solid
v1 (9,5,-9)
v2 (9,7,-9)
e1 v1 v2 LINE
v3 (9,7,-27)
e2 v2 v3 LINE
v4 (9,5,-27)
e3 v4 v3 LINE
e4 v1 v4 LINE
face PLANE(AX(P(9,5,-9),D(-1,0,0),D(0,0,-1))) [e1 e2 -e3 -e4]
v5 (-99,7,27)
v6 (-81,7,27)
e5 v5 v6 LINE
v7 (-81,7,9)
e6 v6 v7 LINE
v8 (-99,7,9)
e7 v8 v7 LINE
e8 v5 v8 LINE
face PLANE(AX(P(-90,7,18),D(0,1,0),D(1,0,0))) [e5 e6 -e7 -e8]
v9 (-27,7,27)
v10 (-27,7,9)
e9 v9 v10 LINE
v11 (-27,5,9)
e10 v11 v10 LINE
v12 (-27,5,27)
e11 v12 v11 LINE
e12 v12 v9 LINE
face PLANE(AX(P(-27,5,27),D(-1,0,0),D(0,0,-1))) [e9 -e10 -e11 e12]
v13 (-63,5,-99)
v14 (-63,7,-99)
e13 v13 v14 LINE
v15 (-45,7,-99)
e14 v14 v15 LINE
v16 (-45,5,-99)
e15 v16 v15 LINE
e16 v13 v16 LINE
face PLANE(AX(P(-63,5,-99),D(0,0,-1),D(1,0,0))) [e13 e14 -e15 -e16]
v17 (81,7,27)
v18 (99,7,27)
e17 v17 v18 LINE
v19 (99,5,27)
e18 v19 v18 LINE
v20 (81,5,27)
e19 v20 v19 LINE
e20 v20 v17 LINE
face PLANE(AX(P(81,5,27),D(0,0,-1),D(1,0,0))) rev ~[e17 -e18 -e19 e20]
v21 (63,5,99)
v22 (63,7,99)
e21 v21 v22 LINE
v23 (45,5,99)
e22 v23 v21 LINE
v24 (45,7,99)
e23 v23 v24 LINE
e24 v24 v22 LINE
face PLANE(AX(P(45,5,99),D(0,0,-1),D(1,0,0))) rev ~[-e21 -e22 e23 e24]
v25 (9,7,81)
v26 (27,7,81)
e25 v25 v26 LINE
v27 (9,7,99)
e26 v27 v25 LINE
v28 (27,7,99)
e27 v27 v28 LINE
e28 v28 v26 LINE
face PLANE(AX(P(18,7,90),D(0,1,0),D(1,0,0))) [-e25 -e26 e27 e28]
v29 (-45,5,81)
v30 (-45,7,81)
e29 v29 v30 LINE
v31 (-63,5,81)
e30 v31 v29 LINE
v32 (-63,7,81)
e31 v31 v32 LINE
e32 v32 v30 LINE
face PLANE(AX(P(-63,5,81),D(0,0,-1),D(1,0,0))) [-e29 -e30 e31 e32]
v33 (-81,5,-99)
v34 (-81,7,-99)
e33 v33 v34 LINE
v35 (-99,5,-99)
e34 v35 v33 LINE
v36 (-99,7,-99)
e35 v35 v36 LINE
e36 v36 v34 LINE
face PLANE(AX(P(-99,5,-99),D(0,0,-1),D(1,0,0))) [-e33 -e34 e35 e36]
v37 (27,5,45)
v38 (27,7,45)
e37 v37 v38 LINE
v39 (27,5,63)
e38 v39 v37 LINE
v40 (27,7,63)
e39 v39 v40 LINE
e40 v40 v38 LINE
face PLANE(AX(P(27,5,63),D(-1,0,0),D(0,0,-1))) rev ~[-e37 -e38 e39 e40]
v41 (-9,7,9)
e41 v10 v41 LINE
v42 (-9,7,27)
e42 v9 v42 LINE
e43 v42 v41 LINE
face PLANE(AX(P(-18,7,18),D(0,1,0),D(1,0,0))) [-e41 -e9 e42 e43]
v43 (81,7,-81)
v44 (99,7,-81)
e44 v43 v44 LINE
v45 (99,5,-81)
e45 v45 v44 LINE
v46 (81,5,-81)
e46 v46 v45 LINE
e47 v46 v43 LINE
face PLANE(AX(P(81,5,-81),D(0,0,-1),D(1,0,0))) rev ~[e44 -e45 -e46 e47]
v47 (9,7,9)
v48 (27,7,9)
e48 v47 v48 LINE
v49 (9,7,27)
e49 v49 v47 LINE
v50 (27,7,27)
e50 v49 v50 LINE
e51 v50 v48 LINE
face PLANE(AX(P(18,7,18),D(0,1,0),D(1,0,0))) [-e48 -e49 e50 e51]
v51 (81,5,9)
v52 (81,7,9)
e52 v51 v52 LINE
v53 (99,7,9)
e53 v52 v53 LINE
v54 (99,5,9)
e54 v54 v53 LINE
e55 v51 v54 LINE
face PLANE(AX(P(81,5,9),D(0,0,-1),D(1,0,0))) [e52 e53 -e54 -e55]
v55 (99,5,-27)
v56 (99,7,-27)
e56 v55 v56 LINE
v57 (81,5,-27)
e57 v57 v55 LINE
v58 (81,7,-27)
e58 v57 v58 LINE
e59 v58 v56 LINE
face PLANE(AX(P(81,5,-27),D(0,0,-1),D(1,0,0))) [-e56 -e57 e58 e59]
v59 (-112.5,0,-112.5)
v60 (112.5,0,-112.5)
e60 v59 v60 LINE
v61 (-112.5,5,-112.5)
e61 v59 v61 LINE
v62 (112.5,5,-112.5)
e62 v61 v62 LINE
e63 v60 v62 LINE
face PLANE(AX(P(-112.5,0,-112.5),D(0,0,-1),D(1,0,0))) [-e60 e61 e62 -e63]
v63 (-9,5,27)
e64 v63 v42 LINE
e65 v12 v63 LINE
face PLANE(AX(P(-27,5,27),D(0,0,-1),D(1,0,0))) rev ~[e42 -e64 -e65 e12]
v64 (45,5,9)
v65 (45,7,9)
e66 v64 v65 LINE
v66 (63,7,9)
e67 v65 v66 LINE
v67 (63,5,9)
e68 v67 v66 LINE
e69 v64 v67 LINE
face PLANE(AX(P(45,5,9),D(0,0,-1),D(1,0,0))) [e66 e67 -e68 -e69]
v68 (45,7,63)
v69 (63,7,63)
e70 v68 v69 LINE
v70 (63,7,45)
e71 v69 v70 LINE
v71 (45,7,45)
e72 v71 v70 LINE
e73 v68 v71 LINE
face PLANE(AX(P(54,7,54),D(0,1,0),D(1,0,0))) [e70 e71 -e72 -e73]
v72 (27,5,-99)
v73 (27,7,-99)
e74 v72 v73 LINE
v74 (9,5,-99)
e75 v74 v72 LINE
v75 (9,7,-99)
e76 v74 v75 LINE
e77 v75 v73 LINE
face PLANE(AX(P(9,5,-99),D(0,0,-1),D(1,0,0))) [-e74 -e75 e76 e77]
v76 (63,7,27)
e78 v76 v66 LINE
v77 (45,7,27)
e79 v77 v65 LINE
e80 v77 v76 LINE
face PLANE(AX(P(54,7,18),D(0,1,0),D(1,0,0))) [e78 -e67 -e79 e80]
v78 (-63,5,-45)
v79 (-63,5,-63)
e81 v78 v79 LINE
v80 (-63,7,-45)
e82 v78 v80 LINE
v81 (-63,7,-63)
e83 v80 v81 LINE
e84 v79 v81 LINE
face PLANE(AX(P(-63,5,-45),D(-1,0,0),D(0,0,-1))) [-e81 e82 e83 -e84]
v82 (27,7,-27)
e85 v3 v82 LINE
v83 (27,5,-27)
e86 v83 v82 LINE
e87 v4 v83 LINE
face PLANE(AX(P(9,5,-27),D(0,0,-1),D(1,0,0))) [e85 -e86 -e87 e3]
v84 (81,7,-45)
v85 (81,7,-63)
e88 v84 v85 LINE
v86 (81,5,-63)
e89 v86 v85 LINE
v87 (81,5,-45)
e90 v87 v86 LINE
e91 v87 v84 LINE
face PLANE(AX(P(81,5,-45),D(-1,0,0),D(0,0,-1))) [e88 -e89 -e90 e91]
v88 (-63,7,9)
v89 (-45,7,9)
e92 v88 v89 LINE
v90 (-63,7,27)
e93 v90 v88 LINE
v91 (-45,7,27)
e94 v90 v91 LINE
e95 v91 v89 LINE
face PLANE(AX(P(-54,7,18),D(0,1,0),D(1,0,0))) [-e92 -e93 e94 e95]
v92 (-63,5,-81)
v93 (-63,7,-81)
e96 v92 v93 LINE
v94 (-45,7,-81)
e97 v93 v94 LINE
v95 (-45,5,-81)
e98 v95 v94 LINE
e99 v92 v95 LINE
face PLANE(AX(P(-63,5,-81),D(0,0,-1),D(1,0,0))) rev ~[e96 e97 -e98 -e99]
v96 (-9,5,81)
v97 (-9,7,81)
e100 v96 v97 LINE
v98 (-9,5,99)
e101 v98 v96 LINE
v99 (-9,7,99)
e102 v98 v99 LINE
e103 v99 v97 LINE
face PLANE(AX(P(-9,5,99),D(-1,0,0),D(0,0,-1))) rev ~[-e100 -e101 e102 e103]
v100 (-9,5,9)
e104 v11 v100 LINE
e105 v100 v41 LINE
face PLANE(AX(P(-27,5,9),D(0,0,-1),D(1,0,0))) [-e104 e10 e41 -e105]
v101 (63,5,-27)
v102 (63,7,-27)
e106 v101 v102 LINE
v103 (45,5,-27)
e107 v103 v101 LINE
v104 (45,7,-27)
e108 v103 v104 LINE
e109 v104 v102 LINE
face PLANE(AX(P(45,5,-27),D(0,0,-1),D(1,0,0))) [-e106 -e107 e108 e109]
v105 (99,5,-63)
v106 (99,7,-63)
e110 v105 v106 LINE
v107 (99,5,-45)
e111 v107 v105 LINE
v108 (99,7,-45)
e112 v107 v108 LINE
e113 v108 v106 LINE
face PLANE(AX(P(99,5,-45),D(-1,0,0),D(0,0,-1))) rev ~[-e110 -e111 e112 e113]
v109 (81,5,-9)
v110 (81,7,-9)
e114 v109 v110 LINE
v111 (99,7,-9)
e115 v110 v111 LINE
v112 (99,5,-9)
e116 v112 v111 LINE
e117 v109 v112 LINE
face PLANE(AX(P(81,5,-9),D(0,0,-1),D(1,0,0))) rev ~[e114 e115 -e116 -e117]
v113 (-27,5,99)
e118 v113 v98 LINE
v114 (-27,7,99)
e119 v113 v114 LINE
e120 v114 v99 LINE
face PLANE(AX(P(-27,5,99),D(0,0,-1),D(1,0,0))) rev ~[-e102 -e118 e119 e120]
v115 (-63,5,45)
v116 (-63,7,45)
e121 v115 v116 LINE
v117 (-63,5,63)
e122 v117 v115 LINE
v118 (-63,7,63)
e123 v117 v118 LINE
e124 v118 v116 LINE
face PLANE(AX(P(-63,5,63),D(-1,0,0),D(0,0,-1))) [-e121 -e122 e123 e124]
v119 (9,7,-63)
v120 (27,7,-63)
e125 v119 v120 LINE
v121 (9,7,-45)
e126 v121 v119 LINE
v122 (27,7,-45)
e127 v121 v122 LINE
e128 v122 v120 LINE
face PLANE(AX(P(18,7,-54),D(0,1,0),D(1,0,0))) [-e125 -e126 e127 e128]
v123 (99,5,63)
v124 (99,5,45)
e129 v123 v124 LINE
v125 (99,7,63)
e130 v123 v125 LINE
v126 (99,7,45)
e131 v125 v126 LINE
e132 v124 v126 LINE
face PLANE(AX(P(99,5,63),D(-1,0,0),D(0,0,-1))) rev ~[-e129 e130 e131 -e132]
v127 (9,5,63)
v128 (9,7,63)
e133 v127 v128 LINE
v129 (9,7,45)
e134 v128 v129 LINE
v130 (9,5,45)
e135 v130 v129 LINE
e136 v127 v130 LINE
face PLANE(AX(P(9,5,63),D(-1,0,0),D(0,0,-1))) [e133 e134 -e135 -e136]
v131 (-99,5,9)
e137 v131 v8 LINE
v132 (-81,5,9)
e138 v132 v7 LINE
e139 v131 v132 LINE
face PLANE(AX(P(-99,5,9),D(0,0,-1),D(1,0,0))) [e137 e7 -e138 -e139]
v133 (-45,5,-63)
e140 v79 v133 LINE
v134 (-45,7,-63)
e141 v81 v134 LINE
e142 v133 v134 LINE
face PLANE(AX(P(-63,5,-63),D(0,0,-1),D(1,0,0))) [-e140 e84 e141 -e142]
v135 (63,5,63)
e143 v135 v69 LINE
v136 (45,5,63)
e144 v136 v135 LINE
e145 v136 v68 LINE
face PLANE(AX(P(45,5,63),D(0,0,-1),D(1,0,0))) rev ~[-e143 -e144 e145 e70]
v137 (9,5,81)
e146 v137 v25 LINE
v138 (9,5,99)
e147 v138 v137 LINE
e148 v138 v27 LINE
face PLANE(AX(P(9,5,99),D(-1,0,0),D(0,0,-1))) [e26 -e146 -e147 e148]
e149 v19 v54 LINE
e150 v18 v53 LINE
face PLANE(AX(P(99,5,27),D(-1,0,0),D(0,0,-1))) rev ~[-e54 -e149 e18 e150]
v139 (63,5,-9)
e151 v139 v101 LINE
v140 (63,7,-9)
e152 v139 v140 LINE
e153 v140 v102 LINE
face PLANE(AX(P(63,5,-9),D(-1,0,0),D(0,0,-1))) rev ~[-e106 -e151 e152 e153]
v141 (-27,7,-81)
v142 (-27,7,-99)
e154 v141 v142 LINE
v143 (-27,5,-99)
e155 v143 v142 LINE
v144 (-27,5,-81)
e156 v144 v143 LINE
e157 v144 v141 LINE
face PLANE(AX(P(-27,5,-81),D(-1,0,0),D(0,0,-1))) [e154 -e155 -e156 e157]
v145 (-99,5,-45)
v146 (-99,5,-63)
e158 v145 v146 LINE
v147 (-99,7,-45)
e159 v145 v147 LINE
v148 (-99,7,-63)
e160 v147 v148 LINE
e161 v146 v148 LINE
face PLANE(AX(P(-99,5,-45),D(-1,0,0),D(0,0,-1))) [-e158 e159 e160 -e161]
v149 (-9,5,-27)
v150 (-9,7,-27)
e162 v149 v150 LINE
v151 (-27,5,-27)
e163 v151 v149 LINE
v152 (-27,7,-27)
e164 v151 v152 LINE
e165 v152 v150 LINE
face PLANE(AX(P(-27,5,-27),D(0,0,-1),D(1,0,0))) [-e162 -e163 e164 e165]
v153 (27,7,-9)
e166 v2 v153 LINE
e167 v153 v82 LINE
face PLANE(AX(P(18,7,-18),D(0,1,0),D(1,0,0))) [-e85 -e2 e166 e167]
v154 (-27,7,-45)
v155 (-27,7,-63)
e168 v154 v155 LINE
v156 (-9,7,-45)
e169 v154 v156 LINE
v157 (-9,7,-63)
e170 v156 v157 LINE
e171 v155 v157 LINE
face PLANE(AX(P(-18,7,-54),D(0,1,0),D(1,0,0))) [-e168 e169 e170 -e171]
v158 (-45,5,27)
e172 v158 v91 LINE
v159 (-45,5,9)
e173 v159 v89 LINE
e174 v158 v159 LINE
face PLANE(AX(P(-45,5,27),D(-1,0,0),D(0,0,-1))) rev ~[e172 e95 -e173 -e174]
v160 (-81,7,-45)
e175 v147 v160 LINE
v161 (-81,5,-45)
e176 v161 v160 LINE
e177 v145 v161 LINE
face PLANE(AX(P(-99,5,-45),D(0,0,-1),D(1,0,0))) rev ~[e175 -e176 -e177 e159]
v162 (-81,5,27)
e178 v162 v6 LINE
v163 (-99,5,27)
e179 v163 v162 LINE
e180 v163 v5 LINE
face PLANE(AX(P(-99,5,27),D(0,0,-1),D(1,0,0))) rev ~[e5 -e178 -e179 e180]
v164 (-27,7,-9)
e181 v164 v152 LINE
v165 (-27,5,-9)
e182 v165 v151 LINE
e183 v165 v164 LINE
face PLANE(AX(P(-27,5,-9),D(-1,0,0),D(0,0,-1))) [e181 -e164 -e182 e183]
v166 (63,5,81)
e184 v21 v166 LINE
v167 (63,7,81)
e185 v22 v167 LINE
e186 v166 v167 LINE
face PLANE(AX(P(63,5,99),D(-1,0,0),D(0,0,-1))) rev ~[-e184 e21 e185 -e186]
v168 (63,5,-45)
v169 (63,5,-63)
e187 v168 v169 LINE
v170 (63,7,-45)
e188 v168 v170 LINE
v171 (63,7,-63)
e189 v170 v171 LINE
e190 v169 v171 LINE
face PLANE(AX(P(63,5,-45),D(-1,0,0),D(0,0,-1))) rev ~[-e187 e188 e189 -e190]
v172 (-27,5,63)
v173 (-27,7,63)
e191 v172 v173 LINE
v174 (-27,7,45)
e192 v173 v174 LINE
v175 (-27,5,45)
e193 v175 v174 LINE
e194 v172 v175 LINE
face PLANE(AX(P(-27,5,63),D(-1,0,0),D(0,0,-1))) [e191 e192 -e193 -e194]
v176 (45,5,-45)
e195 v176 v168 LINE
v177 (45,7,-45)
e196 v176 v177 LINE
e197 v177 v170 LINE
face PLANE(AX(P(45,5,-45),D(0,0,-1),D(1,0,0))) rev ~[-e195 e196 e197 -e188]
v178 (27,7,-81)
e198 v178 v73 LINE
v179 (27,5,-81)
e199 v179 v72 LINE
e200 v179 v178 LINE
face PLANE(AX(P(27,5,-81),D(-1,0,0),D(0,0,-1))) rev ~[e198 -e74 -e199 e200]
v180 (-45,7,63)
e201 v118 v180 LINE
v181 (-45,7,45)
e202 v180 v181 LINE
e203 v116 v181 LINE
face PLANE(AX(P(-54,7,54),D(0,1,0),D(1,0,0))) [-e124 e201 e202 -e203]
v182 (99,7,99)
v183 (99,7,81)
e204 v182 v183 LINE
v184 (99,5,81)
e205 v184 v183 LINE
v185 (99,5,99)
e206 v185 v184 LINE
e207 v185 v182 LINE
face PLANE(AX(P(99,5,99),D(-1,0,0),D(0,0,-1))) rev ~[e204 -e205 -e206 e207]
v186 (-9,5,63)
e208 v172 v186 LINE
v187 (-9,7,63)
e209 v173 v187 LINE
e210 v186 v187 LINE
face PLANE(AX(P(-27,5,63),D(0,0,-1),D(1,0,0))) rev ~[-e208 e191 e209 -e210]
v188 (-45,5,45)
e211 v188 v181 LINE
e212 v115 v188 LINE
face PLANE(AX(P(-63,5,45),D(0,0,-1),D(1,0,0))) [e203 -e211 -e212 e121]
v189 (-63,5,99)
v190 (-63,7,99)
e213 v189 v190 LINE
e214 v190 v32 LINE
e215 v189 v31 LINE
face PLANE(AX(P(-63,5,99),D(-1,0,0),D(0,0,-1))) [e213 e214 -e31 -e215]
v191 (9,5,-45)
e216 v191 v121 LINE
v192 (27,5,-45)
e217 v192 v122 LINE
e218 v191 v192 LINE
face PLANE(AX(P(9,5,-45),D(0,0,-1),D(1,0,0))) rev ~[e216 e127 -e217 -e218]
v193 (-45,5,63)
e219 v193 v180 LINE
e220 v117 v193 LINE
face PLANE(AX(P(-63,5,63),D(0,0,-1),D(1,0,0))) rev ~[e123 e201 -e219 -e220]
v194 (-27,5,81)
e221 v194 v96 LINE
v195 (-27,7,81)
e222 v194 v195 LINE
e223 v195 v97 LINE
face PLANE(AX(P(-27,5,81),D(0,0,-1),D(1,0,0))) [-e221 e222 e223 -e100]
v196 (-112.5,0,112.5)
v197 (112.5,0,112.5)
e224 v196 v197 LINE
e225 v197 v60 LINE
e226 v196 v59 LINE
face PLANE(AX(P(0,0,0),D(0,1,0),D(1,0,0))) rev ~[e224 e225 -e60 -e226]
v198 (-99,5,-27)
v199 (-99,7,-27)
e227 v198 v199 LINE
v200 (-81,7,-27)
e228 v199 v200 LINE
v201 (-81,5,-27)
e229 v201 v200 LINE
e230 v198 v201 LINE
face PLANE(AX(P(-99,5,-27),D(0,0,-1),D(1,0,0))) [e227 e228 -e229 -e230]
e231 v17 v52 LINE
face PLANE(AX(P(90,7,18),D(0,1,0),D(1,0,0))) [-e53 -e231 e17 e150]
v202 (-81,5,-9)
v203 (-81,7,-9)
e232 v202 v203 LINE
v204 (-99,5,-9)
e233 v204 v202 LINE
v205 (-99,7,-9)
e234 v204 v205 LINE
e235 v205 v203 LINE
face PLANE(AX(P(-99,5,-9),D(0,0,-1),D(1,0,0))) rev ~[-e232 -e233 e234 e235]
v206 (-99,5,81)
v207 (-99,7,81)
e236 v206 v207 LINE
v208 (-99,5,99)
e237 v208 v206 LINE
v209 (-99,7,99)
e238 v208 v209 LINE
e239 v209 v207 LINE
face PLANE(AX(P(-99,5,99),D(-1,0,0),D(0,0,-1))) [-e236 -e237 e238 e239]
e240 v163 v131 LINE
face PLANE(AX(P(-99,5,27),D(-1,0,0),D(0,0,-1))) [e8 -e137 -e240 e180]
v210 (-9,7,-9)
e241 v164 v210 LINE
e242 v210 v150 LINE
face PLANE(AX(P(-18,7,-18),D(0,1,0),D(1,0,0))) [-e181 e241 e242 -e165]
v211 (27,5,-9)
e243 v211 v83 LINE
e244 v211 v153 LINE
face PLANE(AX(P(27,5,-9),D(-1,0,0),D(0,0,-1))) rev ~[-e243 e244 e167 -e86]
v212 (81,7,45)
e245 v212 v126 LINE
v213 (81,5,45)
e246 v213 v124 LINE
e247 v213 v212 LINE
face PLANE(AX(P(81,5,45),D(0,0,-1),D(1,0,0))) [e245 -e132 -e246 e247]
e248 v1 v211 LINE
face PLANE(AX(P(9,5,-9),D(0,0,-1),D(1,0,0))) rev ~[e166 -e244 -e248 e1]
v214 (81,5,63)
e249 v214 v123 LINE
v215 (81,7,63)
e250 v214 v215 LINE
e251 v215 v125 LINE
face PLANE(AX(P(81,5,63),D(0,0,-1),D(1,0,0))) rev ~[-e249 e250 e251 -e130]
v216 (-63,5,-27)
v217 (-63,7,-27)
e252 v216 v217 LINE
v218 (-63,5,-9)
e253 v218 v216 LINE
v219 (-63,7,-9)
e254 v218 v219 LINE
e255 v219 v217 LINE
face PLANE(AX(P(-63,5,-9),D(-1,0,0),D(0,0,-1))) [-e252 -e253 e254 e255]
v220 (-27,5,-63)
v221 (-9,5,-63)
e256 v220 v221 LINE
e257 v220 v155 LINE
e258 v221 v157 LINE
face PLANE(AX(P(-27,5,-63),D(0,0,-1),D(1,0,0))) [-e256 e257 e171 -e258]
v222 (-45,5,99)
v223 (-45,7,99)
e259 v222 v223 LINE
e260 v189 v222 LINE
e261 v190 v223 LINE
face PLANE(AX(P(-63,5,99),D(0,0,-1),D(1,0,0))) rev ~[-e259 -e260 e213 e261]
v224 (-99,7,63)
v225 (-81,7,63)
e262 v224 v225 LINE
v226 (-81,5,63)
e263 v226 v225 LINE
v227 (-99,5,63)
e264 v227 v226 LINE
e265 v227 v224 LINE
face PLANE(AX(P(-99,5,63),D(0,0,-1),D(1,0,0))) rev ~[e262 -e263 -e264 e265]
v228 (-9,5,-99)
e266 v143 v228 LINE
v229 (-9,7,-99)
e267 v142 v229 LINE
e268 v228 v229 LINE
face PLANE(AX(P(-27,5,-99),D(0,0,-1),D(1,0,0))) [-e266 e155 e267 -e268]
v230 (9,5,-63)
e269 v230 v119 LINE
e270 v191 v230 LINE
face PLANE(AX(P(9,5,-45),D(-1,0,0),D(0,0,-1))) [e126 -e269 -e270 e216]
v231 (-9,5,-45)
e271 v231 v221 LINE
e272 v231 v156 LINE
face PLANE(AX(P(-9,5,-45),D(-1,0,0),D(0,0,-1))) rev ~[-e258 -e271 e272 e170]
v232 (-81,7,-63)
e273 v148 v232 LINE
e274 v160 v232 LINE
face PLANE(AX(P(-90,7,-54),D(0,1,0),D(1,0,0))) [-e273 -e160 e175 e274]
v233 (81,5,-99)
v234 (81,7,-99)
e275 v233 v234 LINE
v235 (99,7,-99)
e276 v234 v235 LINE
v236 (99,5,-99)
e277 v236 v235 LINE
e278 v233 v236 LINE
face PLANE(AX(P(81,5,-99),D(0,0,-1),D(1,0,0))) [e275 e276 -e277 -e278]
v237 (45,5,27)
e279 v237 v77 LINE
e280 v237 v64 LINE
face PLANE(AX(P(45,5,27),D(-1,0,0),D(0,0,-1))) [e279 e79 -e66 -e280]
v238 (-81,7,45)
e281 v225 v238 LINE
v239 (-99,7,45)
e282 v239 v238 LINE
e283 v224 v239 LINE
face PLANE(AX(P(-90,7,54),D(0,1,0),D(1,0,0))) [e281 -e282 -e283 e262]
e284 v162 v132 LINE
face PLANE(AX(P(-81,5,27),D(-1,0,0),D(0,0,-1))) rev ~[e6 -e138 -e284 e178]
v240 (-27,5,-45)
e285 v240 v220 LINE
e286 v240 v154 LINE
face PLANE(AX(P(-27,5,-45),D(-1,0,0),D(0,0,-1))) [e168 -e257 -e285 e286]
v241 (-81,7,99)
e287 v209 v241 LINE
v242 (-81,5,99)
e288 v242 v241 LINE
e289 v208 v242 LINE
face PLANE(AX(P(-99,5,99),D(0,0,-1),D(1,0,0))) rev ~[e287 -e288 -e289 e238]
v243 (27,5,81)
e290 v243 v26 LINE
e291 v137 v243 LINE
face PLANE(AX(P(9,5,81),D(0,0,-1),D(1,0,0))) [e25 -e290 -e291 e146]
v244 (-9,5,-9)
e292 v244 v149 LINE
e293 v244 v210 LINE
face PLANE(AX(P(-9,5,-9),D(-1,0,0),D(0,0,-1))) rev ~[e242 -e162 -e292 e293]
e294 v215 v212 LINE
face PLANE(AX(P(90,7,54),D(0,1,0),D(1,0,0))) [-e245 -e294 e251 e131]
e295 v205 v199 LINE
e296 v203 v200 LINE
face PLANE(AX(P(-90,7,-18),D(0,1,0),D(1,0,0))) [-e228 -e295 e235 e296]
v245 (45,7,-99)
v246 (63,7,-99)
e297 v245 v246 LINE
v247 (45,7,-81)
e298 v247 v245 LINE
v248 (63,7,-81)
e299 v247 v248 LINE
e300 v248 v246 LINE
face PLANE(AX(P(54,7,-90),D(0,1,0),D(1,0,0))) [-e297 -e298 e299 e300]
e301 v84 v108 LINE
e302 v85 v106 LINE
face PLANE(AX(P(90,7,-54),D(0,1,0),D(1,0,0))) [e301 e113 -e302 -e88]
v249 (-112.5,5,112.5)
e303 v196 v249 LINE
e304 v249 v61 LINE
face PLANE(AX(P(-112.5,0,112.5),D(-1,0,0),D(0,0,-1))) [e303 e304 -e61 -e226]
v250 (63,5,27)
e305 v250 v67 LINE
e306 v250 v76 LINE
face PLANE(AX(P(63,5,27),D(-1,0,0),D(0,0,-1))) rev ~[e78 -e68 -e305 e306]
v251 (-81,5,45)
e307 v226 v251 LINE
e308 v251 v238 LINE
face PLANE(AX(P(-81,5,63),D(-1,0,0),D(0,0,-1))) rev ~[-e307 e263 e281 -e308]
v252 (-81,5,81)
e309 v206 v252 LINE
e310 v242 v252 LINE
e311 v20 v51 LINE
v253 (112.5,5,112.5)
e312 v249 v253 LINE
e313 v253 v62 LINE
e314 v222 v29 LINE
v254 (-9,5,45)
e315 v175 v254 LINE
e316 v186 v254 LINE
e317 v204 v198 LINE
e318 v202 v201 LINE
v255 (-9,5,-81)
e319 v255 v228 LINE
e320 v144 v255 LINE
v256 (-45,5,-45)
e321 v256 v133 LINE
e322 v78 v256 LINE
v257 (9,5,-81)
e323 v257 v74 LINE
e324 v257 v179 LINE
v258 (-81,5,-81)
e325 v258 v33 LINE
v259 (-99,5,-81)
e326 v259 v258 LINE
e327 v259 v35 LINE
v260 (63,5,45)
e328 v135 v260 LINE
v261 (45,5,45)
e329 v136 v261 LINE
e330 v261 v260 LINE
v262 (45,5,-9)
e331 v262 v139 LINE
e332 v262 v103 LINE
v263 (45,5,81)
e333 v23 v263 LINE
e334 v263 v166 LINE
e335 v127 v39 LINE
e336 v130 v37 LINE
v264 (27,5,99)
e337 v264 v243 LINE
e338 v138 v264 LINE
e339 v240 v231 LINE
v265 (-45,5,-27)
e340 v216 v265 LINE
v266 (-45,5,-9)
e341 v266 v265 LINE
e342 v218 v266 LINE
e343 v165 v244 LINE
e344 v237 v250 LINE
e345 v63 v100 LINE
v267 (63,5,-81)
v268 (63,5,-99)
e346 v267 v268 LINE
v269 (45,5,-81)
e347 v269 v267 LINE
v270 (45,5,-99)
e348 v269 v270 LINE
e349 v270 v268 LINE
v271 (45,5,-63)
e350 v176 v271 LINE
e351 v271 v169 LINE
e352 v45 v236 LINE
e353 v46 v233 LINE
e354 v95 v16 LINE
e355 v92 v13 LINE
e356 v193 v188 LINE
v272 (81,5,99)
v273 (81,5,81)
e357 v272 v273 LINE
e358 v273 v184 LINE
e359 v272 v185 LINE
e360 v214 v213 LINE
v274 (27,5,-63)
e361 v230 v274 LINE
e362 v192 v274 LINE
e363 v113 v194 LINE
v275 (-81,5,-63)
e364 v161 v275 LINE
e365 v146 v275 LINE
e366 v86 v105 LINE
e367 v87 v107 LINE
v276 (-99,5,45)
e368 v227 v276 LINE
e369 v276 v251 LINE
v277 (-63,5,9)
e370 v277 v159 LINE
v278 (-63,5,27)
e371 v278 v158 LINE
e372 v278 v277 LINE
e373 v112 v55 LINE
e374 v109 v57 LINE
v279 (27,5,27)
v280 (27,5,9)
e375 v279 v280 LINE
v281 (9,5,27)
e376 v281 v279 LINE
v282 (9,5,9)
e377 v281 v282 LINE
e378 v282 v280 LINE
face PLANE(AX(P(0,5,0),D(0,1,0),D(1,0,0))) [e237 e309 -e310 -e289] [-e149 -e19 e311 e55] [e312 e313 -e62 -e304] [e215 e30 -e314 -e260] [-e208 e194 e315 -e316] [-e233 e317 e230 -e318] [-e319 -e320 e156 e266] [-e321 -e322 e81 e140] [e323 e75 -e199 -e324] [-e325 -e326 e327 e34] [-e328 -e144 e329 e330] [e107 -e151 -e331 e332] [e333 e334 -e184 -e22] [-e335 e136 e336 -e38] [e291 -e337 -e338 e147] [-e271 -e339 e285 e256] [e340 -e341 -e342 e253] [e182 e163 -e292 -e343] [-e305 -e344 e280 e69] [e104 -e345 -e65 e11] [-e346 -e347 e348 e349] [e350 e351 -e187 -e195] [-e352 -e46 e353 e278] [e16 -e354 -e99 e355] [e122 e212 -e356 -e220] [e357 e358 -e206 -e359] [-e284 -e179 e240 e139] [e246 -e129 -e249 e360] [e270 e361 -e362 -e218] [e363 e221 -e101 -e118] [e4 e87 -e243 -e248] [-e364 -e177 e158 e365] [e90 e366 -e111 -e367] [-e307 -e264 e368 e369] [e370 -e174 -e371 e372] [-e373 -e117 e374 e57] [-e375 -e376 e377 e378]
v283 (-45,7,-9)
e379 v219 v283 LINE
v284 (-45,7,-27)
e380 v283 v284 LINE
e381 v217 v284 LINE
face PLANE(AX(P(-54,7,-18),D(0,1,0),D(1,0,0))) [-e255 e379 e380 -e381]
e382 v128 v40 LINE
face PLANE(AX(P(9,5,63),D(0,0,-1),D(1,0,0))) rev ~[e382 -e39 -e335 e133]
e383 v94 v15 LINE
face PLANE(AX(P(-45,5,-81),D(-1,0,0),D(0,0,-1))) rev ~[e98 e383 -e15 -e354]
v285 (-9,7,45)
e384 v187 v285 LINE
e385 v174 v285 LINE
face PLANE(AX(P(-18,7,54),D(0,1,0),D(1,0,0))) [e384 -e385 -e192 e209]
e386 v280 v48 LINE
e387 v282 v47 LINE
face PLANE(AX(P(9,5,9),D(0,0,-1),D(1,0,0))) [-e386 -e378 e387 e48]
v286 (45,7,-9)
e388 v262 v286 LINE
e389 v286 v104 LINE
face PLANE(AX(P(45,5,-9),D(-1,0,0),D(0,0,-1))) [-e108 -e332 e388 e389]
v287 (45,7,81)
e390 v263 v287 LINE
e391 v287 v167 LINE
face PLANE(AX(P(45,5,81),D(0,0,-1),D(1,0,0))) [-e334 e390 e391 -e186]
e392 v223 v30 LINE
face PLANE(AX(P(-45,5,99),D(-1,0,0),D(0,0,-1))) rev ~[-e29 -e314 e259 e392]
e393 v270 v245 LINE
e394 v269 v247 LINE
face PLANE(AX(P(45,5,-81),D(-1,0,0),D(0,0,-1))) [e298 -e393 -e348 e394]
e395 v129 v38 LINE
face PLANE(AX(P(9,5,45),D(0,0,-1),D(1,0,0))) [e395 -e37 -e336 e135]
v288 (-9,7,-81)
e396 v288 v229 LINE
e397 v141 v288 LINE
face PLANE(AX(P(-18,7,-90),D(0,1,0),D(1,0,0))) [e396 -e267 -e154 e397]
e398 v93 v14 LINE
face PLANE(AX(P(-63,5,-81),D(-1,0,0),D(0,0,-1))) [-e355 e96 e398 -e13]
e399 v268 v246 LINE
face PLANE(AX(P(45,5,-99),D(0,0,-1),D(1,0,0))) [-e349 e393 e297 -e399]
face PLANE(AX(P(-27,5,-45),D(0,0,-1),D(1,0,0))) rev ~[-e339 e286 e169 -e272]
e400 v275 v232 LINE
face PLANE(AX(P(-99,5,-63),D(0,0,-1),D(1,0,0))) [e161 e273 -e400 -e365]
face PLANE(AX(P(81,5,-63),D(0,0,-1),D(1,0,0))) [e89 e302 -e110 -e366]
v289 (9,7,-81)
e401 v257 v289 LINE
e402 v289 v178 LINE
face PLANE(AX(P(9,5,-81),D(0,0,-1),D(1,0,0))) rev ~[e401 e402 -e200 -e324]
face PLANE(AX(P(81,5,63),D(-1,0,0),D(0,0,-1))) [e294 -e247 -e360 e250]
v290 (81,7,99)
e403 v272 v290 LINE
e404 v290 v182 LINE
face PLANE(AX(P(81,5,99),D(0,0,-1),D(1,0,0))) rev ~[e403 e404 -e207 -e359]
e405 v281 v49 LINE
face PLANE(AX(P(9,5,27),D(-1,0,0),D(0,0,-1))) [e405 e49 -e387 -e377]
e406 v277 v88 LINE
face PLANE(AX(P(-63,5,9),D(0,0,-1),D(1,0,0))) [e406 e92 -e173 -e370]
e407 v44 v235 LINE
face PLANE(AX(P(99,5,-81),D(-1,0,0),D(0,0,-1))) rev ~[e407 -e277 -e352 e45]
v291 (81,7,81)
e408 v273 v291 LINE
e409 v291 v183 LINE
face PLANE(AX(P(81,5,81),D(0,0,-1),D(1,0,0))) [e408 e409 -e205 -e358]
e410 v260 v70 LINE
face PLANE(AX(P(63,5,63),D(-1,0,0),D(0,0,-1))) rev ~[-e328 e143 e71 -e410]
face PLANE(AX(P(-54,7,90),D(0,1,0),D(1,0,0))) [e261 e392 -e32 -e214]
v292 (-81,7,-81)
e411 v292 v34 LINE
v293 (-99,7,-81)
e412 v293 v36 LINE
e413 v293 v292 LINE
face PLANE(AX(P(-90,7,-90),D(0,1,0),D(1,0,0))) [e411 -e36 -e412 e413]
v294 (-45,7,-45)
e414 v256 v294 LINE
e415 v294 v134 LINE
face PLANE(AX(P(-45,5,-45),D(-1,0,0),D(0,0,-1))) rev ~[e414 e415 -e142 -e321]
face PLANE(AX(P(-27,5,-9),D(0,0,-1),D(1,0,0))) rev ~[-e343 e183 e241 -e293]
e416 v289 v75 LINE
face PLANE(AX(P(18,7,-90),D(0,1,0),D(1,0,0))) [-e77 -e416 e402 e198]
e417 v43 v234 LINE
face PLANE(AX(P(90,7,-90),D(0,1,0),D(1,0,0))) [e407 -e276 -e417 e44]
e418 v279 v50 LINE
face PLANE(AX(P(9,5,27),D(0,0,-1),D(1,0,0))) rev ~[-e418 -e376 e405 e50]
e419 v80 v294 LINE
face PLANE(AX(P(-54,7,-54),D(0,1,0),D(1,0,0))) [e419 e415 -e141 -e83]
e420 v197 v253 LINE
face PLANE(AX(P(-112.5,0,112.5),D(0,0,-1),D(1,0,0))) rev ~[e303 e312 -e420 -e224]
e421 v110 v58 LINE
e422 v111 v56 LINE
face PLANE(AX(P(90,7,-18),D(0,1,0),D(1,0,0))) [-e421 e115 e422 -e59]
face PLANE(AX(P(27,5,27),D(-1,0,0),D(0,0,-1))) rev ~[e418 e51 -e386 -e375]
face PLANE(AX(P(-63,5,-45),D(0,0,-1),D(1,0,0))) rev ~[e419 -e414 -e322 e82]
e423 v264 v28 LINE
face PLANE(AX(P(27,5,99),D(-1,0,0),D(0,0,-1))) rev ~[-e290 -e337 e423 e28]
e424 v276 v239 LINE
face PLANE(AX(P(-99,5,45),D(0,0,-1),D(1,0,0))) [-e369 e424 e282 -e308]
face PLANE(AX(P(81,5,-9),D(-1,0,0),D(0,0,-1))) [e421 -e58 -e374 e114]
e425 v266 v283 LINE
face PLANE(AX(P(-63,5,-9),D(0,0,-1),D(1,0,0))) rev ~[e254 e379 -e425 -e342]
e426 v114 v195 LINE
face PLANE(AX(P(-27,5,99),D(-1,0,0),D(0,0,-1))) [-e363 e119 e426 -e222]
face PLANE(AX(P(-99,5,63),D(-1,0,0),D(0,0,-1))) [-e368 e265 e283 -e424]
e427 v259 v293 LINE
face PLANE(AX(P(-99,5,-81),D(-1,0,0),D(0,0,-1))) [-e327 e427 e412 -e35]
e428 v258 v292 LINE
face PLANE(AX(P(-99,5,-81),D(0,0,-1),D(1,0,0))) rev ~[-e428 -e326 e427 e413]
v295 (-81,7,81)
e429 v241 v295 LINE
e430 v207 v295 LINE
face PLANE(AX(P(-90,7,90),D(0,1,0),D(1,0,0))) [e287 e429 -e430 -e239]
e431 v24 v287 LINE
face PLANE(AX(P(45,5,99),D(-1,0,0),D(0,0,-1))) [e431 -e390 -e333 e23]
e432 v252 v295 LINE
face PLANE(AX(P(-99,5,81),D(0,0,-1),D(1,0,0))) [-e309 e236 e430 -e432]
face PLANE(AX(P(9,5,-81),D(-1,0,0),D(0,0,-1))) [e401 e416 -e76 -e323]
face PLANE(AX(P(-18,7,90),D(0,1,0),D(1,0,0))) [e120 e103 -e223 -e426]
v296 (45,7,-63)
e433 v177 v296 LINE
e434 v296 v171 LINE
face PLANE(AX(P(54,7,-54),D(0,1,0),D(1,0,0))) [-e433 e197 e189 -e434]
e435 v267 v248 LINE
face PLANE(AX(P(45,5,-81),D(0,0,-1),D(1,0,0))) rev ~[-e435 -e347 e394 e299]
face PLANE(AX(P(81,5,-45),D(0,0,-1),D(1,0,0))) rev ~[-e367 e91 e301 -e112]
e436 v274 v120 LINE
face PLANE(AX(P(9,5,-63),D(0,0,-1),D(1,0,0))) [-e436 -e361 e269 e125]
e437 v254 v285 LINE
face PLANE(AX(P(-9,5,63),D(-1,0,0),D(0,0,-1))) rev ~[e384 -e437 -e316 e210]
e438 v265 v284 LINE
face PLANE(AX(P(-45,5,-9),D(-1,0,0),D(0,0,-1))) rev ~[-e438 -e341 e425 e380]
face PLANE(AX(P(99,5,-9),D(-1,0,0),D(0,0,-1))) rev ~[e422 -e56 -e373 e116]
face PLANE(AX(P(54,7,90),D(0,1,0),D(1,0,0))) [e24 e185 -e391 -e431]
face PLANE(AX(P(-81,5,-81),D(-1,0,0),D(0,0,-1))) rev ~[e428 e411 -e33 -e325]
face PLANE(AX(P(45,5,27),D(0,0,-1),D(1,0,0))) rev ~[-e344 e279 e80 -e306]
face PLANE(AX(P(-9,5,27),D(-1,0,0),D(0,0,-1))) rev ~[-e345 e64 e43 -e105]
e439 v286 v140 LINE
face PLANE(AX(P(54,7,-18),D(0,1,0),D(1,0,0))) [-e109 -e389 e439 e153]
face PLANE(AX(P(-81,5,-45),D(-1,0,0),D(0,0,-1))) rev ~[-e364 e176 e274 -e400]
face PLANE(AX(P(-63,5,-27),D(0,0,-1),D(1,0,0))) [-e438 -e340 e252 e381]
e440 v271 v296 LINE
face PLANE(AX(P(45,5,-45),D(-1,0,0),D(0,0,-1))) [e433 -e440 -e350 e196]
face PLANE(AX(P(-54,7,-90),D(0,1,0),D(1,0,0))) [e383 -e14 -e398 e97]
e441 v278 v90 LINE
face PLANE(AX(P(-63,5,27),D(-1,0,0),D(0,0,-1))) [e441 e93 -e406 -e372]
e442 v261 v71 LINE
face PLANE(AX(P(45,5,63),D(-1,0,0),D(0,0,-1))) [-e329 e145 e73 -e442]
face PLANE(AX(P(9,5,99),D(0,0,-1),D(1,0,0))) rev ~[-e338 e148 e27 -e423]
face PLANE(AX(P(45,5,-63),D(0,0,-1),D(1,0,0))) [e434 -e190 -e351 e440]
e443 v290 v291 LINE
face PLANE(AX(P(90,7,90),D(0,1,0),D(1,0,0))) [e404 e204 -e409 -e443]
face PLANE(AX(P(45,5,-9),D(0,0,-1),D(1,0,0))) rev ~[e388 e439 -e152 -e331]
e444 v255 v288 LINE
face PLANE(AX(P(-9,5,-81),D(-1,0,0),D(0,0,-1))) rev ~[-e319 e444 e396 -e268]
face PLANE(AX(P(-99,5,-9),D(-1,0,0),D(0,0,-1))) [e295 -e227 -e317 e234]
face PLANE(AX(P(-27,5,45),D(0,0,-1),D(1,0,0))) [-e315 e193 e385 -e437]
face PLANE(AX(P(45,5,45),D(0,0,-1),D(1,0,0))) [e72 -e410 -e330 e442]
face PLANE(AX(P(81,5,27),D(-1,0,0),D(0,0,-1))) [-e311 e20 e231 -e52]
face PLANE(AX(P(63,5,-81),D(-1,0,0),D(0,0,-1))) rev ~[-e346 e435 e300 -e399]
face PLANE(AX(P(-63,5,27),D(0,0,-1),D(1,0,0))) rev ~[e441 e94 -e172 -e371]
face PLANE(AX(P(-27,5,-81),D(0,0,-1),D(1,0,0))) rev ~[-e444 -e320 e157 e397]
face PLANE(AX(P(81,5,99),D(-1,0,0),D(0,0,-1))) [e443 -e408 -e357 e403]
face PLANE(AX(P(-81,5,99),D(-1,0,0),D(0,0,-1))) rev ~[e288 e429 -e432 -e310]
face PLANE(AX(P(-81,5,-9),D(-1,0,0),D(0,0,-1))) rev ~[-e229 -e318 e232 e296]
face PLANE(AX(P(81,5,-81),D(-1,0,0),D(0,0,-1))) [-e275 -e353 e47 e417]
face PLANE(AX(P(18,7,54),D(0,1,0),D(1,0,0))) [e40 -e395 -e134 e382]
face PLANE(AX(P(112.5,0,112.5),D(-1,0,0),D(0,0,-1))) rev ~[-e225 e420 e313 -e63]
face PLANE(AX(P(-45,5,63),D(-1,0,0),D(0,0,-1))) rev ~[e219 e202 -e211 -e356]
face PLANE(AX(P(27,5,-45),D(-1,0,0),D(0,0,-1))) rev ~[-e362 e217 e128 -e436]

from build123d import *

# Parameters (mm, degrees)
SKETCH1_W            = 225
SKETCH1_H            = 225
BOSS_EXTRUDE1_DEPTH  = 5
SKETCH2_W            = 18
SKETCH2_H            = 18
BOSS_EXTRUDE2_DEPTH  = 2
LPATTERN1_COUNT      = 6
LPATTERN1_PITCH      = 36
LPATTERN1_COUNT_DIR2 = 6
LPATTERN1_PITCH_DIR2 = 36


with BuildPart() as part:
    # Sketch1 → Boss-Extrude1 (new body)
    with BuildSketch(Plane(origin=(0, 0, 0), x_dir=(1, 0, 0), z_dir=(0, 1, 0))):
        Rectangle(SKETCH1_W, SKETCH1_H)
    extrude(amount=BOSS_EXTRUDE1_DEPTH)

    # Sketch2 → Boss-Extrude2 (add)
    with BuildSketch(Plane(origin=(0, 5, 0), x_dir=(1, 0, 0), z_dir=(0, 1, 0))):
        with Locations((-90, 90)):
            Rectangle(SKETCH2_W, SKETCH2_H)
    boss_extrude2 = extrude(amount=BOSS_EXTRUDE2_DEPTH)

    # LPattern1: Boss-Extrude2 6 × 6
    with Locations(*[(i * LPATTERN1_PITCH, 0, j * LPATTERN1_PITCH_DIR2) for i in range(LPATTERN1_COUNT) for j in range(LPATTERN1_COUNT_DIR2) if (i, j) != (0, 0)]):
        add(boss_extrude2)


solid = part.part
